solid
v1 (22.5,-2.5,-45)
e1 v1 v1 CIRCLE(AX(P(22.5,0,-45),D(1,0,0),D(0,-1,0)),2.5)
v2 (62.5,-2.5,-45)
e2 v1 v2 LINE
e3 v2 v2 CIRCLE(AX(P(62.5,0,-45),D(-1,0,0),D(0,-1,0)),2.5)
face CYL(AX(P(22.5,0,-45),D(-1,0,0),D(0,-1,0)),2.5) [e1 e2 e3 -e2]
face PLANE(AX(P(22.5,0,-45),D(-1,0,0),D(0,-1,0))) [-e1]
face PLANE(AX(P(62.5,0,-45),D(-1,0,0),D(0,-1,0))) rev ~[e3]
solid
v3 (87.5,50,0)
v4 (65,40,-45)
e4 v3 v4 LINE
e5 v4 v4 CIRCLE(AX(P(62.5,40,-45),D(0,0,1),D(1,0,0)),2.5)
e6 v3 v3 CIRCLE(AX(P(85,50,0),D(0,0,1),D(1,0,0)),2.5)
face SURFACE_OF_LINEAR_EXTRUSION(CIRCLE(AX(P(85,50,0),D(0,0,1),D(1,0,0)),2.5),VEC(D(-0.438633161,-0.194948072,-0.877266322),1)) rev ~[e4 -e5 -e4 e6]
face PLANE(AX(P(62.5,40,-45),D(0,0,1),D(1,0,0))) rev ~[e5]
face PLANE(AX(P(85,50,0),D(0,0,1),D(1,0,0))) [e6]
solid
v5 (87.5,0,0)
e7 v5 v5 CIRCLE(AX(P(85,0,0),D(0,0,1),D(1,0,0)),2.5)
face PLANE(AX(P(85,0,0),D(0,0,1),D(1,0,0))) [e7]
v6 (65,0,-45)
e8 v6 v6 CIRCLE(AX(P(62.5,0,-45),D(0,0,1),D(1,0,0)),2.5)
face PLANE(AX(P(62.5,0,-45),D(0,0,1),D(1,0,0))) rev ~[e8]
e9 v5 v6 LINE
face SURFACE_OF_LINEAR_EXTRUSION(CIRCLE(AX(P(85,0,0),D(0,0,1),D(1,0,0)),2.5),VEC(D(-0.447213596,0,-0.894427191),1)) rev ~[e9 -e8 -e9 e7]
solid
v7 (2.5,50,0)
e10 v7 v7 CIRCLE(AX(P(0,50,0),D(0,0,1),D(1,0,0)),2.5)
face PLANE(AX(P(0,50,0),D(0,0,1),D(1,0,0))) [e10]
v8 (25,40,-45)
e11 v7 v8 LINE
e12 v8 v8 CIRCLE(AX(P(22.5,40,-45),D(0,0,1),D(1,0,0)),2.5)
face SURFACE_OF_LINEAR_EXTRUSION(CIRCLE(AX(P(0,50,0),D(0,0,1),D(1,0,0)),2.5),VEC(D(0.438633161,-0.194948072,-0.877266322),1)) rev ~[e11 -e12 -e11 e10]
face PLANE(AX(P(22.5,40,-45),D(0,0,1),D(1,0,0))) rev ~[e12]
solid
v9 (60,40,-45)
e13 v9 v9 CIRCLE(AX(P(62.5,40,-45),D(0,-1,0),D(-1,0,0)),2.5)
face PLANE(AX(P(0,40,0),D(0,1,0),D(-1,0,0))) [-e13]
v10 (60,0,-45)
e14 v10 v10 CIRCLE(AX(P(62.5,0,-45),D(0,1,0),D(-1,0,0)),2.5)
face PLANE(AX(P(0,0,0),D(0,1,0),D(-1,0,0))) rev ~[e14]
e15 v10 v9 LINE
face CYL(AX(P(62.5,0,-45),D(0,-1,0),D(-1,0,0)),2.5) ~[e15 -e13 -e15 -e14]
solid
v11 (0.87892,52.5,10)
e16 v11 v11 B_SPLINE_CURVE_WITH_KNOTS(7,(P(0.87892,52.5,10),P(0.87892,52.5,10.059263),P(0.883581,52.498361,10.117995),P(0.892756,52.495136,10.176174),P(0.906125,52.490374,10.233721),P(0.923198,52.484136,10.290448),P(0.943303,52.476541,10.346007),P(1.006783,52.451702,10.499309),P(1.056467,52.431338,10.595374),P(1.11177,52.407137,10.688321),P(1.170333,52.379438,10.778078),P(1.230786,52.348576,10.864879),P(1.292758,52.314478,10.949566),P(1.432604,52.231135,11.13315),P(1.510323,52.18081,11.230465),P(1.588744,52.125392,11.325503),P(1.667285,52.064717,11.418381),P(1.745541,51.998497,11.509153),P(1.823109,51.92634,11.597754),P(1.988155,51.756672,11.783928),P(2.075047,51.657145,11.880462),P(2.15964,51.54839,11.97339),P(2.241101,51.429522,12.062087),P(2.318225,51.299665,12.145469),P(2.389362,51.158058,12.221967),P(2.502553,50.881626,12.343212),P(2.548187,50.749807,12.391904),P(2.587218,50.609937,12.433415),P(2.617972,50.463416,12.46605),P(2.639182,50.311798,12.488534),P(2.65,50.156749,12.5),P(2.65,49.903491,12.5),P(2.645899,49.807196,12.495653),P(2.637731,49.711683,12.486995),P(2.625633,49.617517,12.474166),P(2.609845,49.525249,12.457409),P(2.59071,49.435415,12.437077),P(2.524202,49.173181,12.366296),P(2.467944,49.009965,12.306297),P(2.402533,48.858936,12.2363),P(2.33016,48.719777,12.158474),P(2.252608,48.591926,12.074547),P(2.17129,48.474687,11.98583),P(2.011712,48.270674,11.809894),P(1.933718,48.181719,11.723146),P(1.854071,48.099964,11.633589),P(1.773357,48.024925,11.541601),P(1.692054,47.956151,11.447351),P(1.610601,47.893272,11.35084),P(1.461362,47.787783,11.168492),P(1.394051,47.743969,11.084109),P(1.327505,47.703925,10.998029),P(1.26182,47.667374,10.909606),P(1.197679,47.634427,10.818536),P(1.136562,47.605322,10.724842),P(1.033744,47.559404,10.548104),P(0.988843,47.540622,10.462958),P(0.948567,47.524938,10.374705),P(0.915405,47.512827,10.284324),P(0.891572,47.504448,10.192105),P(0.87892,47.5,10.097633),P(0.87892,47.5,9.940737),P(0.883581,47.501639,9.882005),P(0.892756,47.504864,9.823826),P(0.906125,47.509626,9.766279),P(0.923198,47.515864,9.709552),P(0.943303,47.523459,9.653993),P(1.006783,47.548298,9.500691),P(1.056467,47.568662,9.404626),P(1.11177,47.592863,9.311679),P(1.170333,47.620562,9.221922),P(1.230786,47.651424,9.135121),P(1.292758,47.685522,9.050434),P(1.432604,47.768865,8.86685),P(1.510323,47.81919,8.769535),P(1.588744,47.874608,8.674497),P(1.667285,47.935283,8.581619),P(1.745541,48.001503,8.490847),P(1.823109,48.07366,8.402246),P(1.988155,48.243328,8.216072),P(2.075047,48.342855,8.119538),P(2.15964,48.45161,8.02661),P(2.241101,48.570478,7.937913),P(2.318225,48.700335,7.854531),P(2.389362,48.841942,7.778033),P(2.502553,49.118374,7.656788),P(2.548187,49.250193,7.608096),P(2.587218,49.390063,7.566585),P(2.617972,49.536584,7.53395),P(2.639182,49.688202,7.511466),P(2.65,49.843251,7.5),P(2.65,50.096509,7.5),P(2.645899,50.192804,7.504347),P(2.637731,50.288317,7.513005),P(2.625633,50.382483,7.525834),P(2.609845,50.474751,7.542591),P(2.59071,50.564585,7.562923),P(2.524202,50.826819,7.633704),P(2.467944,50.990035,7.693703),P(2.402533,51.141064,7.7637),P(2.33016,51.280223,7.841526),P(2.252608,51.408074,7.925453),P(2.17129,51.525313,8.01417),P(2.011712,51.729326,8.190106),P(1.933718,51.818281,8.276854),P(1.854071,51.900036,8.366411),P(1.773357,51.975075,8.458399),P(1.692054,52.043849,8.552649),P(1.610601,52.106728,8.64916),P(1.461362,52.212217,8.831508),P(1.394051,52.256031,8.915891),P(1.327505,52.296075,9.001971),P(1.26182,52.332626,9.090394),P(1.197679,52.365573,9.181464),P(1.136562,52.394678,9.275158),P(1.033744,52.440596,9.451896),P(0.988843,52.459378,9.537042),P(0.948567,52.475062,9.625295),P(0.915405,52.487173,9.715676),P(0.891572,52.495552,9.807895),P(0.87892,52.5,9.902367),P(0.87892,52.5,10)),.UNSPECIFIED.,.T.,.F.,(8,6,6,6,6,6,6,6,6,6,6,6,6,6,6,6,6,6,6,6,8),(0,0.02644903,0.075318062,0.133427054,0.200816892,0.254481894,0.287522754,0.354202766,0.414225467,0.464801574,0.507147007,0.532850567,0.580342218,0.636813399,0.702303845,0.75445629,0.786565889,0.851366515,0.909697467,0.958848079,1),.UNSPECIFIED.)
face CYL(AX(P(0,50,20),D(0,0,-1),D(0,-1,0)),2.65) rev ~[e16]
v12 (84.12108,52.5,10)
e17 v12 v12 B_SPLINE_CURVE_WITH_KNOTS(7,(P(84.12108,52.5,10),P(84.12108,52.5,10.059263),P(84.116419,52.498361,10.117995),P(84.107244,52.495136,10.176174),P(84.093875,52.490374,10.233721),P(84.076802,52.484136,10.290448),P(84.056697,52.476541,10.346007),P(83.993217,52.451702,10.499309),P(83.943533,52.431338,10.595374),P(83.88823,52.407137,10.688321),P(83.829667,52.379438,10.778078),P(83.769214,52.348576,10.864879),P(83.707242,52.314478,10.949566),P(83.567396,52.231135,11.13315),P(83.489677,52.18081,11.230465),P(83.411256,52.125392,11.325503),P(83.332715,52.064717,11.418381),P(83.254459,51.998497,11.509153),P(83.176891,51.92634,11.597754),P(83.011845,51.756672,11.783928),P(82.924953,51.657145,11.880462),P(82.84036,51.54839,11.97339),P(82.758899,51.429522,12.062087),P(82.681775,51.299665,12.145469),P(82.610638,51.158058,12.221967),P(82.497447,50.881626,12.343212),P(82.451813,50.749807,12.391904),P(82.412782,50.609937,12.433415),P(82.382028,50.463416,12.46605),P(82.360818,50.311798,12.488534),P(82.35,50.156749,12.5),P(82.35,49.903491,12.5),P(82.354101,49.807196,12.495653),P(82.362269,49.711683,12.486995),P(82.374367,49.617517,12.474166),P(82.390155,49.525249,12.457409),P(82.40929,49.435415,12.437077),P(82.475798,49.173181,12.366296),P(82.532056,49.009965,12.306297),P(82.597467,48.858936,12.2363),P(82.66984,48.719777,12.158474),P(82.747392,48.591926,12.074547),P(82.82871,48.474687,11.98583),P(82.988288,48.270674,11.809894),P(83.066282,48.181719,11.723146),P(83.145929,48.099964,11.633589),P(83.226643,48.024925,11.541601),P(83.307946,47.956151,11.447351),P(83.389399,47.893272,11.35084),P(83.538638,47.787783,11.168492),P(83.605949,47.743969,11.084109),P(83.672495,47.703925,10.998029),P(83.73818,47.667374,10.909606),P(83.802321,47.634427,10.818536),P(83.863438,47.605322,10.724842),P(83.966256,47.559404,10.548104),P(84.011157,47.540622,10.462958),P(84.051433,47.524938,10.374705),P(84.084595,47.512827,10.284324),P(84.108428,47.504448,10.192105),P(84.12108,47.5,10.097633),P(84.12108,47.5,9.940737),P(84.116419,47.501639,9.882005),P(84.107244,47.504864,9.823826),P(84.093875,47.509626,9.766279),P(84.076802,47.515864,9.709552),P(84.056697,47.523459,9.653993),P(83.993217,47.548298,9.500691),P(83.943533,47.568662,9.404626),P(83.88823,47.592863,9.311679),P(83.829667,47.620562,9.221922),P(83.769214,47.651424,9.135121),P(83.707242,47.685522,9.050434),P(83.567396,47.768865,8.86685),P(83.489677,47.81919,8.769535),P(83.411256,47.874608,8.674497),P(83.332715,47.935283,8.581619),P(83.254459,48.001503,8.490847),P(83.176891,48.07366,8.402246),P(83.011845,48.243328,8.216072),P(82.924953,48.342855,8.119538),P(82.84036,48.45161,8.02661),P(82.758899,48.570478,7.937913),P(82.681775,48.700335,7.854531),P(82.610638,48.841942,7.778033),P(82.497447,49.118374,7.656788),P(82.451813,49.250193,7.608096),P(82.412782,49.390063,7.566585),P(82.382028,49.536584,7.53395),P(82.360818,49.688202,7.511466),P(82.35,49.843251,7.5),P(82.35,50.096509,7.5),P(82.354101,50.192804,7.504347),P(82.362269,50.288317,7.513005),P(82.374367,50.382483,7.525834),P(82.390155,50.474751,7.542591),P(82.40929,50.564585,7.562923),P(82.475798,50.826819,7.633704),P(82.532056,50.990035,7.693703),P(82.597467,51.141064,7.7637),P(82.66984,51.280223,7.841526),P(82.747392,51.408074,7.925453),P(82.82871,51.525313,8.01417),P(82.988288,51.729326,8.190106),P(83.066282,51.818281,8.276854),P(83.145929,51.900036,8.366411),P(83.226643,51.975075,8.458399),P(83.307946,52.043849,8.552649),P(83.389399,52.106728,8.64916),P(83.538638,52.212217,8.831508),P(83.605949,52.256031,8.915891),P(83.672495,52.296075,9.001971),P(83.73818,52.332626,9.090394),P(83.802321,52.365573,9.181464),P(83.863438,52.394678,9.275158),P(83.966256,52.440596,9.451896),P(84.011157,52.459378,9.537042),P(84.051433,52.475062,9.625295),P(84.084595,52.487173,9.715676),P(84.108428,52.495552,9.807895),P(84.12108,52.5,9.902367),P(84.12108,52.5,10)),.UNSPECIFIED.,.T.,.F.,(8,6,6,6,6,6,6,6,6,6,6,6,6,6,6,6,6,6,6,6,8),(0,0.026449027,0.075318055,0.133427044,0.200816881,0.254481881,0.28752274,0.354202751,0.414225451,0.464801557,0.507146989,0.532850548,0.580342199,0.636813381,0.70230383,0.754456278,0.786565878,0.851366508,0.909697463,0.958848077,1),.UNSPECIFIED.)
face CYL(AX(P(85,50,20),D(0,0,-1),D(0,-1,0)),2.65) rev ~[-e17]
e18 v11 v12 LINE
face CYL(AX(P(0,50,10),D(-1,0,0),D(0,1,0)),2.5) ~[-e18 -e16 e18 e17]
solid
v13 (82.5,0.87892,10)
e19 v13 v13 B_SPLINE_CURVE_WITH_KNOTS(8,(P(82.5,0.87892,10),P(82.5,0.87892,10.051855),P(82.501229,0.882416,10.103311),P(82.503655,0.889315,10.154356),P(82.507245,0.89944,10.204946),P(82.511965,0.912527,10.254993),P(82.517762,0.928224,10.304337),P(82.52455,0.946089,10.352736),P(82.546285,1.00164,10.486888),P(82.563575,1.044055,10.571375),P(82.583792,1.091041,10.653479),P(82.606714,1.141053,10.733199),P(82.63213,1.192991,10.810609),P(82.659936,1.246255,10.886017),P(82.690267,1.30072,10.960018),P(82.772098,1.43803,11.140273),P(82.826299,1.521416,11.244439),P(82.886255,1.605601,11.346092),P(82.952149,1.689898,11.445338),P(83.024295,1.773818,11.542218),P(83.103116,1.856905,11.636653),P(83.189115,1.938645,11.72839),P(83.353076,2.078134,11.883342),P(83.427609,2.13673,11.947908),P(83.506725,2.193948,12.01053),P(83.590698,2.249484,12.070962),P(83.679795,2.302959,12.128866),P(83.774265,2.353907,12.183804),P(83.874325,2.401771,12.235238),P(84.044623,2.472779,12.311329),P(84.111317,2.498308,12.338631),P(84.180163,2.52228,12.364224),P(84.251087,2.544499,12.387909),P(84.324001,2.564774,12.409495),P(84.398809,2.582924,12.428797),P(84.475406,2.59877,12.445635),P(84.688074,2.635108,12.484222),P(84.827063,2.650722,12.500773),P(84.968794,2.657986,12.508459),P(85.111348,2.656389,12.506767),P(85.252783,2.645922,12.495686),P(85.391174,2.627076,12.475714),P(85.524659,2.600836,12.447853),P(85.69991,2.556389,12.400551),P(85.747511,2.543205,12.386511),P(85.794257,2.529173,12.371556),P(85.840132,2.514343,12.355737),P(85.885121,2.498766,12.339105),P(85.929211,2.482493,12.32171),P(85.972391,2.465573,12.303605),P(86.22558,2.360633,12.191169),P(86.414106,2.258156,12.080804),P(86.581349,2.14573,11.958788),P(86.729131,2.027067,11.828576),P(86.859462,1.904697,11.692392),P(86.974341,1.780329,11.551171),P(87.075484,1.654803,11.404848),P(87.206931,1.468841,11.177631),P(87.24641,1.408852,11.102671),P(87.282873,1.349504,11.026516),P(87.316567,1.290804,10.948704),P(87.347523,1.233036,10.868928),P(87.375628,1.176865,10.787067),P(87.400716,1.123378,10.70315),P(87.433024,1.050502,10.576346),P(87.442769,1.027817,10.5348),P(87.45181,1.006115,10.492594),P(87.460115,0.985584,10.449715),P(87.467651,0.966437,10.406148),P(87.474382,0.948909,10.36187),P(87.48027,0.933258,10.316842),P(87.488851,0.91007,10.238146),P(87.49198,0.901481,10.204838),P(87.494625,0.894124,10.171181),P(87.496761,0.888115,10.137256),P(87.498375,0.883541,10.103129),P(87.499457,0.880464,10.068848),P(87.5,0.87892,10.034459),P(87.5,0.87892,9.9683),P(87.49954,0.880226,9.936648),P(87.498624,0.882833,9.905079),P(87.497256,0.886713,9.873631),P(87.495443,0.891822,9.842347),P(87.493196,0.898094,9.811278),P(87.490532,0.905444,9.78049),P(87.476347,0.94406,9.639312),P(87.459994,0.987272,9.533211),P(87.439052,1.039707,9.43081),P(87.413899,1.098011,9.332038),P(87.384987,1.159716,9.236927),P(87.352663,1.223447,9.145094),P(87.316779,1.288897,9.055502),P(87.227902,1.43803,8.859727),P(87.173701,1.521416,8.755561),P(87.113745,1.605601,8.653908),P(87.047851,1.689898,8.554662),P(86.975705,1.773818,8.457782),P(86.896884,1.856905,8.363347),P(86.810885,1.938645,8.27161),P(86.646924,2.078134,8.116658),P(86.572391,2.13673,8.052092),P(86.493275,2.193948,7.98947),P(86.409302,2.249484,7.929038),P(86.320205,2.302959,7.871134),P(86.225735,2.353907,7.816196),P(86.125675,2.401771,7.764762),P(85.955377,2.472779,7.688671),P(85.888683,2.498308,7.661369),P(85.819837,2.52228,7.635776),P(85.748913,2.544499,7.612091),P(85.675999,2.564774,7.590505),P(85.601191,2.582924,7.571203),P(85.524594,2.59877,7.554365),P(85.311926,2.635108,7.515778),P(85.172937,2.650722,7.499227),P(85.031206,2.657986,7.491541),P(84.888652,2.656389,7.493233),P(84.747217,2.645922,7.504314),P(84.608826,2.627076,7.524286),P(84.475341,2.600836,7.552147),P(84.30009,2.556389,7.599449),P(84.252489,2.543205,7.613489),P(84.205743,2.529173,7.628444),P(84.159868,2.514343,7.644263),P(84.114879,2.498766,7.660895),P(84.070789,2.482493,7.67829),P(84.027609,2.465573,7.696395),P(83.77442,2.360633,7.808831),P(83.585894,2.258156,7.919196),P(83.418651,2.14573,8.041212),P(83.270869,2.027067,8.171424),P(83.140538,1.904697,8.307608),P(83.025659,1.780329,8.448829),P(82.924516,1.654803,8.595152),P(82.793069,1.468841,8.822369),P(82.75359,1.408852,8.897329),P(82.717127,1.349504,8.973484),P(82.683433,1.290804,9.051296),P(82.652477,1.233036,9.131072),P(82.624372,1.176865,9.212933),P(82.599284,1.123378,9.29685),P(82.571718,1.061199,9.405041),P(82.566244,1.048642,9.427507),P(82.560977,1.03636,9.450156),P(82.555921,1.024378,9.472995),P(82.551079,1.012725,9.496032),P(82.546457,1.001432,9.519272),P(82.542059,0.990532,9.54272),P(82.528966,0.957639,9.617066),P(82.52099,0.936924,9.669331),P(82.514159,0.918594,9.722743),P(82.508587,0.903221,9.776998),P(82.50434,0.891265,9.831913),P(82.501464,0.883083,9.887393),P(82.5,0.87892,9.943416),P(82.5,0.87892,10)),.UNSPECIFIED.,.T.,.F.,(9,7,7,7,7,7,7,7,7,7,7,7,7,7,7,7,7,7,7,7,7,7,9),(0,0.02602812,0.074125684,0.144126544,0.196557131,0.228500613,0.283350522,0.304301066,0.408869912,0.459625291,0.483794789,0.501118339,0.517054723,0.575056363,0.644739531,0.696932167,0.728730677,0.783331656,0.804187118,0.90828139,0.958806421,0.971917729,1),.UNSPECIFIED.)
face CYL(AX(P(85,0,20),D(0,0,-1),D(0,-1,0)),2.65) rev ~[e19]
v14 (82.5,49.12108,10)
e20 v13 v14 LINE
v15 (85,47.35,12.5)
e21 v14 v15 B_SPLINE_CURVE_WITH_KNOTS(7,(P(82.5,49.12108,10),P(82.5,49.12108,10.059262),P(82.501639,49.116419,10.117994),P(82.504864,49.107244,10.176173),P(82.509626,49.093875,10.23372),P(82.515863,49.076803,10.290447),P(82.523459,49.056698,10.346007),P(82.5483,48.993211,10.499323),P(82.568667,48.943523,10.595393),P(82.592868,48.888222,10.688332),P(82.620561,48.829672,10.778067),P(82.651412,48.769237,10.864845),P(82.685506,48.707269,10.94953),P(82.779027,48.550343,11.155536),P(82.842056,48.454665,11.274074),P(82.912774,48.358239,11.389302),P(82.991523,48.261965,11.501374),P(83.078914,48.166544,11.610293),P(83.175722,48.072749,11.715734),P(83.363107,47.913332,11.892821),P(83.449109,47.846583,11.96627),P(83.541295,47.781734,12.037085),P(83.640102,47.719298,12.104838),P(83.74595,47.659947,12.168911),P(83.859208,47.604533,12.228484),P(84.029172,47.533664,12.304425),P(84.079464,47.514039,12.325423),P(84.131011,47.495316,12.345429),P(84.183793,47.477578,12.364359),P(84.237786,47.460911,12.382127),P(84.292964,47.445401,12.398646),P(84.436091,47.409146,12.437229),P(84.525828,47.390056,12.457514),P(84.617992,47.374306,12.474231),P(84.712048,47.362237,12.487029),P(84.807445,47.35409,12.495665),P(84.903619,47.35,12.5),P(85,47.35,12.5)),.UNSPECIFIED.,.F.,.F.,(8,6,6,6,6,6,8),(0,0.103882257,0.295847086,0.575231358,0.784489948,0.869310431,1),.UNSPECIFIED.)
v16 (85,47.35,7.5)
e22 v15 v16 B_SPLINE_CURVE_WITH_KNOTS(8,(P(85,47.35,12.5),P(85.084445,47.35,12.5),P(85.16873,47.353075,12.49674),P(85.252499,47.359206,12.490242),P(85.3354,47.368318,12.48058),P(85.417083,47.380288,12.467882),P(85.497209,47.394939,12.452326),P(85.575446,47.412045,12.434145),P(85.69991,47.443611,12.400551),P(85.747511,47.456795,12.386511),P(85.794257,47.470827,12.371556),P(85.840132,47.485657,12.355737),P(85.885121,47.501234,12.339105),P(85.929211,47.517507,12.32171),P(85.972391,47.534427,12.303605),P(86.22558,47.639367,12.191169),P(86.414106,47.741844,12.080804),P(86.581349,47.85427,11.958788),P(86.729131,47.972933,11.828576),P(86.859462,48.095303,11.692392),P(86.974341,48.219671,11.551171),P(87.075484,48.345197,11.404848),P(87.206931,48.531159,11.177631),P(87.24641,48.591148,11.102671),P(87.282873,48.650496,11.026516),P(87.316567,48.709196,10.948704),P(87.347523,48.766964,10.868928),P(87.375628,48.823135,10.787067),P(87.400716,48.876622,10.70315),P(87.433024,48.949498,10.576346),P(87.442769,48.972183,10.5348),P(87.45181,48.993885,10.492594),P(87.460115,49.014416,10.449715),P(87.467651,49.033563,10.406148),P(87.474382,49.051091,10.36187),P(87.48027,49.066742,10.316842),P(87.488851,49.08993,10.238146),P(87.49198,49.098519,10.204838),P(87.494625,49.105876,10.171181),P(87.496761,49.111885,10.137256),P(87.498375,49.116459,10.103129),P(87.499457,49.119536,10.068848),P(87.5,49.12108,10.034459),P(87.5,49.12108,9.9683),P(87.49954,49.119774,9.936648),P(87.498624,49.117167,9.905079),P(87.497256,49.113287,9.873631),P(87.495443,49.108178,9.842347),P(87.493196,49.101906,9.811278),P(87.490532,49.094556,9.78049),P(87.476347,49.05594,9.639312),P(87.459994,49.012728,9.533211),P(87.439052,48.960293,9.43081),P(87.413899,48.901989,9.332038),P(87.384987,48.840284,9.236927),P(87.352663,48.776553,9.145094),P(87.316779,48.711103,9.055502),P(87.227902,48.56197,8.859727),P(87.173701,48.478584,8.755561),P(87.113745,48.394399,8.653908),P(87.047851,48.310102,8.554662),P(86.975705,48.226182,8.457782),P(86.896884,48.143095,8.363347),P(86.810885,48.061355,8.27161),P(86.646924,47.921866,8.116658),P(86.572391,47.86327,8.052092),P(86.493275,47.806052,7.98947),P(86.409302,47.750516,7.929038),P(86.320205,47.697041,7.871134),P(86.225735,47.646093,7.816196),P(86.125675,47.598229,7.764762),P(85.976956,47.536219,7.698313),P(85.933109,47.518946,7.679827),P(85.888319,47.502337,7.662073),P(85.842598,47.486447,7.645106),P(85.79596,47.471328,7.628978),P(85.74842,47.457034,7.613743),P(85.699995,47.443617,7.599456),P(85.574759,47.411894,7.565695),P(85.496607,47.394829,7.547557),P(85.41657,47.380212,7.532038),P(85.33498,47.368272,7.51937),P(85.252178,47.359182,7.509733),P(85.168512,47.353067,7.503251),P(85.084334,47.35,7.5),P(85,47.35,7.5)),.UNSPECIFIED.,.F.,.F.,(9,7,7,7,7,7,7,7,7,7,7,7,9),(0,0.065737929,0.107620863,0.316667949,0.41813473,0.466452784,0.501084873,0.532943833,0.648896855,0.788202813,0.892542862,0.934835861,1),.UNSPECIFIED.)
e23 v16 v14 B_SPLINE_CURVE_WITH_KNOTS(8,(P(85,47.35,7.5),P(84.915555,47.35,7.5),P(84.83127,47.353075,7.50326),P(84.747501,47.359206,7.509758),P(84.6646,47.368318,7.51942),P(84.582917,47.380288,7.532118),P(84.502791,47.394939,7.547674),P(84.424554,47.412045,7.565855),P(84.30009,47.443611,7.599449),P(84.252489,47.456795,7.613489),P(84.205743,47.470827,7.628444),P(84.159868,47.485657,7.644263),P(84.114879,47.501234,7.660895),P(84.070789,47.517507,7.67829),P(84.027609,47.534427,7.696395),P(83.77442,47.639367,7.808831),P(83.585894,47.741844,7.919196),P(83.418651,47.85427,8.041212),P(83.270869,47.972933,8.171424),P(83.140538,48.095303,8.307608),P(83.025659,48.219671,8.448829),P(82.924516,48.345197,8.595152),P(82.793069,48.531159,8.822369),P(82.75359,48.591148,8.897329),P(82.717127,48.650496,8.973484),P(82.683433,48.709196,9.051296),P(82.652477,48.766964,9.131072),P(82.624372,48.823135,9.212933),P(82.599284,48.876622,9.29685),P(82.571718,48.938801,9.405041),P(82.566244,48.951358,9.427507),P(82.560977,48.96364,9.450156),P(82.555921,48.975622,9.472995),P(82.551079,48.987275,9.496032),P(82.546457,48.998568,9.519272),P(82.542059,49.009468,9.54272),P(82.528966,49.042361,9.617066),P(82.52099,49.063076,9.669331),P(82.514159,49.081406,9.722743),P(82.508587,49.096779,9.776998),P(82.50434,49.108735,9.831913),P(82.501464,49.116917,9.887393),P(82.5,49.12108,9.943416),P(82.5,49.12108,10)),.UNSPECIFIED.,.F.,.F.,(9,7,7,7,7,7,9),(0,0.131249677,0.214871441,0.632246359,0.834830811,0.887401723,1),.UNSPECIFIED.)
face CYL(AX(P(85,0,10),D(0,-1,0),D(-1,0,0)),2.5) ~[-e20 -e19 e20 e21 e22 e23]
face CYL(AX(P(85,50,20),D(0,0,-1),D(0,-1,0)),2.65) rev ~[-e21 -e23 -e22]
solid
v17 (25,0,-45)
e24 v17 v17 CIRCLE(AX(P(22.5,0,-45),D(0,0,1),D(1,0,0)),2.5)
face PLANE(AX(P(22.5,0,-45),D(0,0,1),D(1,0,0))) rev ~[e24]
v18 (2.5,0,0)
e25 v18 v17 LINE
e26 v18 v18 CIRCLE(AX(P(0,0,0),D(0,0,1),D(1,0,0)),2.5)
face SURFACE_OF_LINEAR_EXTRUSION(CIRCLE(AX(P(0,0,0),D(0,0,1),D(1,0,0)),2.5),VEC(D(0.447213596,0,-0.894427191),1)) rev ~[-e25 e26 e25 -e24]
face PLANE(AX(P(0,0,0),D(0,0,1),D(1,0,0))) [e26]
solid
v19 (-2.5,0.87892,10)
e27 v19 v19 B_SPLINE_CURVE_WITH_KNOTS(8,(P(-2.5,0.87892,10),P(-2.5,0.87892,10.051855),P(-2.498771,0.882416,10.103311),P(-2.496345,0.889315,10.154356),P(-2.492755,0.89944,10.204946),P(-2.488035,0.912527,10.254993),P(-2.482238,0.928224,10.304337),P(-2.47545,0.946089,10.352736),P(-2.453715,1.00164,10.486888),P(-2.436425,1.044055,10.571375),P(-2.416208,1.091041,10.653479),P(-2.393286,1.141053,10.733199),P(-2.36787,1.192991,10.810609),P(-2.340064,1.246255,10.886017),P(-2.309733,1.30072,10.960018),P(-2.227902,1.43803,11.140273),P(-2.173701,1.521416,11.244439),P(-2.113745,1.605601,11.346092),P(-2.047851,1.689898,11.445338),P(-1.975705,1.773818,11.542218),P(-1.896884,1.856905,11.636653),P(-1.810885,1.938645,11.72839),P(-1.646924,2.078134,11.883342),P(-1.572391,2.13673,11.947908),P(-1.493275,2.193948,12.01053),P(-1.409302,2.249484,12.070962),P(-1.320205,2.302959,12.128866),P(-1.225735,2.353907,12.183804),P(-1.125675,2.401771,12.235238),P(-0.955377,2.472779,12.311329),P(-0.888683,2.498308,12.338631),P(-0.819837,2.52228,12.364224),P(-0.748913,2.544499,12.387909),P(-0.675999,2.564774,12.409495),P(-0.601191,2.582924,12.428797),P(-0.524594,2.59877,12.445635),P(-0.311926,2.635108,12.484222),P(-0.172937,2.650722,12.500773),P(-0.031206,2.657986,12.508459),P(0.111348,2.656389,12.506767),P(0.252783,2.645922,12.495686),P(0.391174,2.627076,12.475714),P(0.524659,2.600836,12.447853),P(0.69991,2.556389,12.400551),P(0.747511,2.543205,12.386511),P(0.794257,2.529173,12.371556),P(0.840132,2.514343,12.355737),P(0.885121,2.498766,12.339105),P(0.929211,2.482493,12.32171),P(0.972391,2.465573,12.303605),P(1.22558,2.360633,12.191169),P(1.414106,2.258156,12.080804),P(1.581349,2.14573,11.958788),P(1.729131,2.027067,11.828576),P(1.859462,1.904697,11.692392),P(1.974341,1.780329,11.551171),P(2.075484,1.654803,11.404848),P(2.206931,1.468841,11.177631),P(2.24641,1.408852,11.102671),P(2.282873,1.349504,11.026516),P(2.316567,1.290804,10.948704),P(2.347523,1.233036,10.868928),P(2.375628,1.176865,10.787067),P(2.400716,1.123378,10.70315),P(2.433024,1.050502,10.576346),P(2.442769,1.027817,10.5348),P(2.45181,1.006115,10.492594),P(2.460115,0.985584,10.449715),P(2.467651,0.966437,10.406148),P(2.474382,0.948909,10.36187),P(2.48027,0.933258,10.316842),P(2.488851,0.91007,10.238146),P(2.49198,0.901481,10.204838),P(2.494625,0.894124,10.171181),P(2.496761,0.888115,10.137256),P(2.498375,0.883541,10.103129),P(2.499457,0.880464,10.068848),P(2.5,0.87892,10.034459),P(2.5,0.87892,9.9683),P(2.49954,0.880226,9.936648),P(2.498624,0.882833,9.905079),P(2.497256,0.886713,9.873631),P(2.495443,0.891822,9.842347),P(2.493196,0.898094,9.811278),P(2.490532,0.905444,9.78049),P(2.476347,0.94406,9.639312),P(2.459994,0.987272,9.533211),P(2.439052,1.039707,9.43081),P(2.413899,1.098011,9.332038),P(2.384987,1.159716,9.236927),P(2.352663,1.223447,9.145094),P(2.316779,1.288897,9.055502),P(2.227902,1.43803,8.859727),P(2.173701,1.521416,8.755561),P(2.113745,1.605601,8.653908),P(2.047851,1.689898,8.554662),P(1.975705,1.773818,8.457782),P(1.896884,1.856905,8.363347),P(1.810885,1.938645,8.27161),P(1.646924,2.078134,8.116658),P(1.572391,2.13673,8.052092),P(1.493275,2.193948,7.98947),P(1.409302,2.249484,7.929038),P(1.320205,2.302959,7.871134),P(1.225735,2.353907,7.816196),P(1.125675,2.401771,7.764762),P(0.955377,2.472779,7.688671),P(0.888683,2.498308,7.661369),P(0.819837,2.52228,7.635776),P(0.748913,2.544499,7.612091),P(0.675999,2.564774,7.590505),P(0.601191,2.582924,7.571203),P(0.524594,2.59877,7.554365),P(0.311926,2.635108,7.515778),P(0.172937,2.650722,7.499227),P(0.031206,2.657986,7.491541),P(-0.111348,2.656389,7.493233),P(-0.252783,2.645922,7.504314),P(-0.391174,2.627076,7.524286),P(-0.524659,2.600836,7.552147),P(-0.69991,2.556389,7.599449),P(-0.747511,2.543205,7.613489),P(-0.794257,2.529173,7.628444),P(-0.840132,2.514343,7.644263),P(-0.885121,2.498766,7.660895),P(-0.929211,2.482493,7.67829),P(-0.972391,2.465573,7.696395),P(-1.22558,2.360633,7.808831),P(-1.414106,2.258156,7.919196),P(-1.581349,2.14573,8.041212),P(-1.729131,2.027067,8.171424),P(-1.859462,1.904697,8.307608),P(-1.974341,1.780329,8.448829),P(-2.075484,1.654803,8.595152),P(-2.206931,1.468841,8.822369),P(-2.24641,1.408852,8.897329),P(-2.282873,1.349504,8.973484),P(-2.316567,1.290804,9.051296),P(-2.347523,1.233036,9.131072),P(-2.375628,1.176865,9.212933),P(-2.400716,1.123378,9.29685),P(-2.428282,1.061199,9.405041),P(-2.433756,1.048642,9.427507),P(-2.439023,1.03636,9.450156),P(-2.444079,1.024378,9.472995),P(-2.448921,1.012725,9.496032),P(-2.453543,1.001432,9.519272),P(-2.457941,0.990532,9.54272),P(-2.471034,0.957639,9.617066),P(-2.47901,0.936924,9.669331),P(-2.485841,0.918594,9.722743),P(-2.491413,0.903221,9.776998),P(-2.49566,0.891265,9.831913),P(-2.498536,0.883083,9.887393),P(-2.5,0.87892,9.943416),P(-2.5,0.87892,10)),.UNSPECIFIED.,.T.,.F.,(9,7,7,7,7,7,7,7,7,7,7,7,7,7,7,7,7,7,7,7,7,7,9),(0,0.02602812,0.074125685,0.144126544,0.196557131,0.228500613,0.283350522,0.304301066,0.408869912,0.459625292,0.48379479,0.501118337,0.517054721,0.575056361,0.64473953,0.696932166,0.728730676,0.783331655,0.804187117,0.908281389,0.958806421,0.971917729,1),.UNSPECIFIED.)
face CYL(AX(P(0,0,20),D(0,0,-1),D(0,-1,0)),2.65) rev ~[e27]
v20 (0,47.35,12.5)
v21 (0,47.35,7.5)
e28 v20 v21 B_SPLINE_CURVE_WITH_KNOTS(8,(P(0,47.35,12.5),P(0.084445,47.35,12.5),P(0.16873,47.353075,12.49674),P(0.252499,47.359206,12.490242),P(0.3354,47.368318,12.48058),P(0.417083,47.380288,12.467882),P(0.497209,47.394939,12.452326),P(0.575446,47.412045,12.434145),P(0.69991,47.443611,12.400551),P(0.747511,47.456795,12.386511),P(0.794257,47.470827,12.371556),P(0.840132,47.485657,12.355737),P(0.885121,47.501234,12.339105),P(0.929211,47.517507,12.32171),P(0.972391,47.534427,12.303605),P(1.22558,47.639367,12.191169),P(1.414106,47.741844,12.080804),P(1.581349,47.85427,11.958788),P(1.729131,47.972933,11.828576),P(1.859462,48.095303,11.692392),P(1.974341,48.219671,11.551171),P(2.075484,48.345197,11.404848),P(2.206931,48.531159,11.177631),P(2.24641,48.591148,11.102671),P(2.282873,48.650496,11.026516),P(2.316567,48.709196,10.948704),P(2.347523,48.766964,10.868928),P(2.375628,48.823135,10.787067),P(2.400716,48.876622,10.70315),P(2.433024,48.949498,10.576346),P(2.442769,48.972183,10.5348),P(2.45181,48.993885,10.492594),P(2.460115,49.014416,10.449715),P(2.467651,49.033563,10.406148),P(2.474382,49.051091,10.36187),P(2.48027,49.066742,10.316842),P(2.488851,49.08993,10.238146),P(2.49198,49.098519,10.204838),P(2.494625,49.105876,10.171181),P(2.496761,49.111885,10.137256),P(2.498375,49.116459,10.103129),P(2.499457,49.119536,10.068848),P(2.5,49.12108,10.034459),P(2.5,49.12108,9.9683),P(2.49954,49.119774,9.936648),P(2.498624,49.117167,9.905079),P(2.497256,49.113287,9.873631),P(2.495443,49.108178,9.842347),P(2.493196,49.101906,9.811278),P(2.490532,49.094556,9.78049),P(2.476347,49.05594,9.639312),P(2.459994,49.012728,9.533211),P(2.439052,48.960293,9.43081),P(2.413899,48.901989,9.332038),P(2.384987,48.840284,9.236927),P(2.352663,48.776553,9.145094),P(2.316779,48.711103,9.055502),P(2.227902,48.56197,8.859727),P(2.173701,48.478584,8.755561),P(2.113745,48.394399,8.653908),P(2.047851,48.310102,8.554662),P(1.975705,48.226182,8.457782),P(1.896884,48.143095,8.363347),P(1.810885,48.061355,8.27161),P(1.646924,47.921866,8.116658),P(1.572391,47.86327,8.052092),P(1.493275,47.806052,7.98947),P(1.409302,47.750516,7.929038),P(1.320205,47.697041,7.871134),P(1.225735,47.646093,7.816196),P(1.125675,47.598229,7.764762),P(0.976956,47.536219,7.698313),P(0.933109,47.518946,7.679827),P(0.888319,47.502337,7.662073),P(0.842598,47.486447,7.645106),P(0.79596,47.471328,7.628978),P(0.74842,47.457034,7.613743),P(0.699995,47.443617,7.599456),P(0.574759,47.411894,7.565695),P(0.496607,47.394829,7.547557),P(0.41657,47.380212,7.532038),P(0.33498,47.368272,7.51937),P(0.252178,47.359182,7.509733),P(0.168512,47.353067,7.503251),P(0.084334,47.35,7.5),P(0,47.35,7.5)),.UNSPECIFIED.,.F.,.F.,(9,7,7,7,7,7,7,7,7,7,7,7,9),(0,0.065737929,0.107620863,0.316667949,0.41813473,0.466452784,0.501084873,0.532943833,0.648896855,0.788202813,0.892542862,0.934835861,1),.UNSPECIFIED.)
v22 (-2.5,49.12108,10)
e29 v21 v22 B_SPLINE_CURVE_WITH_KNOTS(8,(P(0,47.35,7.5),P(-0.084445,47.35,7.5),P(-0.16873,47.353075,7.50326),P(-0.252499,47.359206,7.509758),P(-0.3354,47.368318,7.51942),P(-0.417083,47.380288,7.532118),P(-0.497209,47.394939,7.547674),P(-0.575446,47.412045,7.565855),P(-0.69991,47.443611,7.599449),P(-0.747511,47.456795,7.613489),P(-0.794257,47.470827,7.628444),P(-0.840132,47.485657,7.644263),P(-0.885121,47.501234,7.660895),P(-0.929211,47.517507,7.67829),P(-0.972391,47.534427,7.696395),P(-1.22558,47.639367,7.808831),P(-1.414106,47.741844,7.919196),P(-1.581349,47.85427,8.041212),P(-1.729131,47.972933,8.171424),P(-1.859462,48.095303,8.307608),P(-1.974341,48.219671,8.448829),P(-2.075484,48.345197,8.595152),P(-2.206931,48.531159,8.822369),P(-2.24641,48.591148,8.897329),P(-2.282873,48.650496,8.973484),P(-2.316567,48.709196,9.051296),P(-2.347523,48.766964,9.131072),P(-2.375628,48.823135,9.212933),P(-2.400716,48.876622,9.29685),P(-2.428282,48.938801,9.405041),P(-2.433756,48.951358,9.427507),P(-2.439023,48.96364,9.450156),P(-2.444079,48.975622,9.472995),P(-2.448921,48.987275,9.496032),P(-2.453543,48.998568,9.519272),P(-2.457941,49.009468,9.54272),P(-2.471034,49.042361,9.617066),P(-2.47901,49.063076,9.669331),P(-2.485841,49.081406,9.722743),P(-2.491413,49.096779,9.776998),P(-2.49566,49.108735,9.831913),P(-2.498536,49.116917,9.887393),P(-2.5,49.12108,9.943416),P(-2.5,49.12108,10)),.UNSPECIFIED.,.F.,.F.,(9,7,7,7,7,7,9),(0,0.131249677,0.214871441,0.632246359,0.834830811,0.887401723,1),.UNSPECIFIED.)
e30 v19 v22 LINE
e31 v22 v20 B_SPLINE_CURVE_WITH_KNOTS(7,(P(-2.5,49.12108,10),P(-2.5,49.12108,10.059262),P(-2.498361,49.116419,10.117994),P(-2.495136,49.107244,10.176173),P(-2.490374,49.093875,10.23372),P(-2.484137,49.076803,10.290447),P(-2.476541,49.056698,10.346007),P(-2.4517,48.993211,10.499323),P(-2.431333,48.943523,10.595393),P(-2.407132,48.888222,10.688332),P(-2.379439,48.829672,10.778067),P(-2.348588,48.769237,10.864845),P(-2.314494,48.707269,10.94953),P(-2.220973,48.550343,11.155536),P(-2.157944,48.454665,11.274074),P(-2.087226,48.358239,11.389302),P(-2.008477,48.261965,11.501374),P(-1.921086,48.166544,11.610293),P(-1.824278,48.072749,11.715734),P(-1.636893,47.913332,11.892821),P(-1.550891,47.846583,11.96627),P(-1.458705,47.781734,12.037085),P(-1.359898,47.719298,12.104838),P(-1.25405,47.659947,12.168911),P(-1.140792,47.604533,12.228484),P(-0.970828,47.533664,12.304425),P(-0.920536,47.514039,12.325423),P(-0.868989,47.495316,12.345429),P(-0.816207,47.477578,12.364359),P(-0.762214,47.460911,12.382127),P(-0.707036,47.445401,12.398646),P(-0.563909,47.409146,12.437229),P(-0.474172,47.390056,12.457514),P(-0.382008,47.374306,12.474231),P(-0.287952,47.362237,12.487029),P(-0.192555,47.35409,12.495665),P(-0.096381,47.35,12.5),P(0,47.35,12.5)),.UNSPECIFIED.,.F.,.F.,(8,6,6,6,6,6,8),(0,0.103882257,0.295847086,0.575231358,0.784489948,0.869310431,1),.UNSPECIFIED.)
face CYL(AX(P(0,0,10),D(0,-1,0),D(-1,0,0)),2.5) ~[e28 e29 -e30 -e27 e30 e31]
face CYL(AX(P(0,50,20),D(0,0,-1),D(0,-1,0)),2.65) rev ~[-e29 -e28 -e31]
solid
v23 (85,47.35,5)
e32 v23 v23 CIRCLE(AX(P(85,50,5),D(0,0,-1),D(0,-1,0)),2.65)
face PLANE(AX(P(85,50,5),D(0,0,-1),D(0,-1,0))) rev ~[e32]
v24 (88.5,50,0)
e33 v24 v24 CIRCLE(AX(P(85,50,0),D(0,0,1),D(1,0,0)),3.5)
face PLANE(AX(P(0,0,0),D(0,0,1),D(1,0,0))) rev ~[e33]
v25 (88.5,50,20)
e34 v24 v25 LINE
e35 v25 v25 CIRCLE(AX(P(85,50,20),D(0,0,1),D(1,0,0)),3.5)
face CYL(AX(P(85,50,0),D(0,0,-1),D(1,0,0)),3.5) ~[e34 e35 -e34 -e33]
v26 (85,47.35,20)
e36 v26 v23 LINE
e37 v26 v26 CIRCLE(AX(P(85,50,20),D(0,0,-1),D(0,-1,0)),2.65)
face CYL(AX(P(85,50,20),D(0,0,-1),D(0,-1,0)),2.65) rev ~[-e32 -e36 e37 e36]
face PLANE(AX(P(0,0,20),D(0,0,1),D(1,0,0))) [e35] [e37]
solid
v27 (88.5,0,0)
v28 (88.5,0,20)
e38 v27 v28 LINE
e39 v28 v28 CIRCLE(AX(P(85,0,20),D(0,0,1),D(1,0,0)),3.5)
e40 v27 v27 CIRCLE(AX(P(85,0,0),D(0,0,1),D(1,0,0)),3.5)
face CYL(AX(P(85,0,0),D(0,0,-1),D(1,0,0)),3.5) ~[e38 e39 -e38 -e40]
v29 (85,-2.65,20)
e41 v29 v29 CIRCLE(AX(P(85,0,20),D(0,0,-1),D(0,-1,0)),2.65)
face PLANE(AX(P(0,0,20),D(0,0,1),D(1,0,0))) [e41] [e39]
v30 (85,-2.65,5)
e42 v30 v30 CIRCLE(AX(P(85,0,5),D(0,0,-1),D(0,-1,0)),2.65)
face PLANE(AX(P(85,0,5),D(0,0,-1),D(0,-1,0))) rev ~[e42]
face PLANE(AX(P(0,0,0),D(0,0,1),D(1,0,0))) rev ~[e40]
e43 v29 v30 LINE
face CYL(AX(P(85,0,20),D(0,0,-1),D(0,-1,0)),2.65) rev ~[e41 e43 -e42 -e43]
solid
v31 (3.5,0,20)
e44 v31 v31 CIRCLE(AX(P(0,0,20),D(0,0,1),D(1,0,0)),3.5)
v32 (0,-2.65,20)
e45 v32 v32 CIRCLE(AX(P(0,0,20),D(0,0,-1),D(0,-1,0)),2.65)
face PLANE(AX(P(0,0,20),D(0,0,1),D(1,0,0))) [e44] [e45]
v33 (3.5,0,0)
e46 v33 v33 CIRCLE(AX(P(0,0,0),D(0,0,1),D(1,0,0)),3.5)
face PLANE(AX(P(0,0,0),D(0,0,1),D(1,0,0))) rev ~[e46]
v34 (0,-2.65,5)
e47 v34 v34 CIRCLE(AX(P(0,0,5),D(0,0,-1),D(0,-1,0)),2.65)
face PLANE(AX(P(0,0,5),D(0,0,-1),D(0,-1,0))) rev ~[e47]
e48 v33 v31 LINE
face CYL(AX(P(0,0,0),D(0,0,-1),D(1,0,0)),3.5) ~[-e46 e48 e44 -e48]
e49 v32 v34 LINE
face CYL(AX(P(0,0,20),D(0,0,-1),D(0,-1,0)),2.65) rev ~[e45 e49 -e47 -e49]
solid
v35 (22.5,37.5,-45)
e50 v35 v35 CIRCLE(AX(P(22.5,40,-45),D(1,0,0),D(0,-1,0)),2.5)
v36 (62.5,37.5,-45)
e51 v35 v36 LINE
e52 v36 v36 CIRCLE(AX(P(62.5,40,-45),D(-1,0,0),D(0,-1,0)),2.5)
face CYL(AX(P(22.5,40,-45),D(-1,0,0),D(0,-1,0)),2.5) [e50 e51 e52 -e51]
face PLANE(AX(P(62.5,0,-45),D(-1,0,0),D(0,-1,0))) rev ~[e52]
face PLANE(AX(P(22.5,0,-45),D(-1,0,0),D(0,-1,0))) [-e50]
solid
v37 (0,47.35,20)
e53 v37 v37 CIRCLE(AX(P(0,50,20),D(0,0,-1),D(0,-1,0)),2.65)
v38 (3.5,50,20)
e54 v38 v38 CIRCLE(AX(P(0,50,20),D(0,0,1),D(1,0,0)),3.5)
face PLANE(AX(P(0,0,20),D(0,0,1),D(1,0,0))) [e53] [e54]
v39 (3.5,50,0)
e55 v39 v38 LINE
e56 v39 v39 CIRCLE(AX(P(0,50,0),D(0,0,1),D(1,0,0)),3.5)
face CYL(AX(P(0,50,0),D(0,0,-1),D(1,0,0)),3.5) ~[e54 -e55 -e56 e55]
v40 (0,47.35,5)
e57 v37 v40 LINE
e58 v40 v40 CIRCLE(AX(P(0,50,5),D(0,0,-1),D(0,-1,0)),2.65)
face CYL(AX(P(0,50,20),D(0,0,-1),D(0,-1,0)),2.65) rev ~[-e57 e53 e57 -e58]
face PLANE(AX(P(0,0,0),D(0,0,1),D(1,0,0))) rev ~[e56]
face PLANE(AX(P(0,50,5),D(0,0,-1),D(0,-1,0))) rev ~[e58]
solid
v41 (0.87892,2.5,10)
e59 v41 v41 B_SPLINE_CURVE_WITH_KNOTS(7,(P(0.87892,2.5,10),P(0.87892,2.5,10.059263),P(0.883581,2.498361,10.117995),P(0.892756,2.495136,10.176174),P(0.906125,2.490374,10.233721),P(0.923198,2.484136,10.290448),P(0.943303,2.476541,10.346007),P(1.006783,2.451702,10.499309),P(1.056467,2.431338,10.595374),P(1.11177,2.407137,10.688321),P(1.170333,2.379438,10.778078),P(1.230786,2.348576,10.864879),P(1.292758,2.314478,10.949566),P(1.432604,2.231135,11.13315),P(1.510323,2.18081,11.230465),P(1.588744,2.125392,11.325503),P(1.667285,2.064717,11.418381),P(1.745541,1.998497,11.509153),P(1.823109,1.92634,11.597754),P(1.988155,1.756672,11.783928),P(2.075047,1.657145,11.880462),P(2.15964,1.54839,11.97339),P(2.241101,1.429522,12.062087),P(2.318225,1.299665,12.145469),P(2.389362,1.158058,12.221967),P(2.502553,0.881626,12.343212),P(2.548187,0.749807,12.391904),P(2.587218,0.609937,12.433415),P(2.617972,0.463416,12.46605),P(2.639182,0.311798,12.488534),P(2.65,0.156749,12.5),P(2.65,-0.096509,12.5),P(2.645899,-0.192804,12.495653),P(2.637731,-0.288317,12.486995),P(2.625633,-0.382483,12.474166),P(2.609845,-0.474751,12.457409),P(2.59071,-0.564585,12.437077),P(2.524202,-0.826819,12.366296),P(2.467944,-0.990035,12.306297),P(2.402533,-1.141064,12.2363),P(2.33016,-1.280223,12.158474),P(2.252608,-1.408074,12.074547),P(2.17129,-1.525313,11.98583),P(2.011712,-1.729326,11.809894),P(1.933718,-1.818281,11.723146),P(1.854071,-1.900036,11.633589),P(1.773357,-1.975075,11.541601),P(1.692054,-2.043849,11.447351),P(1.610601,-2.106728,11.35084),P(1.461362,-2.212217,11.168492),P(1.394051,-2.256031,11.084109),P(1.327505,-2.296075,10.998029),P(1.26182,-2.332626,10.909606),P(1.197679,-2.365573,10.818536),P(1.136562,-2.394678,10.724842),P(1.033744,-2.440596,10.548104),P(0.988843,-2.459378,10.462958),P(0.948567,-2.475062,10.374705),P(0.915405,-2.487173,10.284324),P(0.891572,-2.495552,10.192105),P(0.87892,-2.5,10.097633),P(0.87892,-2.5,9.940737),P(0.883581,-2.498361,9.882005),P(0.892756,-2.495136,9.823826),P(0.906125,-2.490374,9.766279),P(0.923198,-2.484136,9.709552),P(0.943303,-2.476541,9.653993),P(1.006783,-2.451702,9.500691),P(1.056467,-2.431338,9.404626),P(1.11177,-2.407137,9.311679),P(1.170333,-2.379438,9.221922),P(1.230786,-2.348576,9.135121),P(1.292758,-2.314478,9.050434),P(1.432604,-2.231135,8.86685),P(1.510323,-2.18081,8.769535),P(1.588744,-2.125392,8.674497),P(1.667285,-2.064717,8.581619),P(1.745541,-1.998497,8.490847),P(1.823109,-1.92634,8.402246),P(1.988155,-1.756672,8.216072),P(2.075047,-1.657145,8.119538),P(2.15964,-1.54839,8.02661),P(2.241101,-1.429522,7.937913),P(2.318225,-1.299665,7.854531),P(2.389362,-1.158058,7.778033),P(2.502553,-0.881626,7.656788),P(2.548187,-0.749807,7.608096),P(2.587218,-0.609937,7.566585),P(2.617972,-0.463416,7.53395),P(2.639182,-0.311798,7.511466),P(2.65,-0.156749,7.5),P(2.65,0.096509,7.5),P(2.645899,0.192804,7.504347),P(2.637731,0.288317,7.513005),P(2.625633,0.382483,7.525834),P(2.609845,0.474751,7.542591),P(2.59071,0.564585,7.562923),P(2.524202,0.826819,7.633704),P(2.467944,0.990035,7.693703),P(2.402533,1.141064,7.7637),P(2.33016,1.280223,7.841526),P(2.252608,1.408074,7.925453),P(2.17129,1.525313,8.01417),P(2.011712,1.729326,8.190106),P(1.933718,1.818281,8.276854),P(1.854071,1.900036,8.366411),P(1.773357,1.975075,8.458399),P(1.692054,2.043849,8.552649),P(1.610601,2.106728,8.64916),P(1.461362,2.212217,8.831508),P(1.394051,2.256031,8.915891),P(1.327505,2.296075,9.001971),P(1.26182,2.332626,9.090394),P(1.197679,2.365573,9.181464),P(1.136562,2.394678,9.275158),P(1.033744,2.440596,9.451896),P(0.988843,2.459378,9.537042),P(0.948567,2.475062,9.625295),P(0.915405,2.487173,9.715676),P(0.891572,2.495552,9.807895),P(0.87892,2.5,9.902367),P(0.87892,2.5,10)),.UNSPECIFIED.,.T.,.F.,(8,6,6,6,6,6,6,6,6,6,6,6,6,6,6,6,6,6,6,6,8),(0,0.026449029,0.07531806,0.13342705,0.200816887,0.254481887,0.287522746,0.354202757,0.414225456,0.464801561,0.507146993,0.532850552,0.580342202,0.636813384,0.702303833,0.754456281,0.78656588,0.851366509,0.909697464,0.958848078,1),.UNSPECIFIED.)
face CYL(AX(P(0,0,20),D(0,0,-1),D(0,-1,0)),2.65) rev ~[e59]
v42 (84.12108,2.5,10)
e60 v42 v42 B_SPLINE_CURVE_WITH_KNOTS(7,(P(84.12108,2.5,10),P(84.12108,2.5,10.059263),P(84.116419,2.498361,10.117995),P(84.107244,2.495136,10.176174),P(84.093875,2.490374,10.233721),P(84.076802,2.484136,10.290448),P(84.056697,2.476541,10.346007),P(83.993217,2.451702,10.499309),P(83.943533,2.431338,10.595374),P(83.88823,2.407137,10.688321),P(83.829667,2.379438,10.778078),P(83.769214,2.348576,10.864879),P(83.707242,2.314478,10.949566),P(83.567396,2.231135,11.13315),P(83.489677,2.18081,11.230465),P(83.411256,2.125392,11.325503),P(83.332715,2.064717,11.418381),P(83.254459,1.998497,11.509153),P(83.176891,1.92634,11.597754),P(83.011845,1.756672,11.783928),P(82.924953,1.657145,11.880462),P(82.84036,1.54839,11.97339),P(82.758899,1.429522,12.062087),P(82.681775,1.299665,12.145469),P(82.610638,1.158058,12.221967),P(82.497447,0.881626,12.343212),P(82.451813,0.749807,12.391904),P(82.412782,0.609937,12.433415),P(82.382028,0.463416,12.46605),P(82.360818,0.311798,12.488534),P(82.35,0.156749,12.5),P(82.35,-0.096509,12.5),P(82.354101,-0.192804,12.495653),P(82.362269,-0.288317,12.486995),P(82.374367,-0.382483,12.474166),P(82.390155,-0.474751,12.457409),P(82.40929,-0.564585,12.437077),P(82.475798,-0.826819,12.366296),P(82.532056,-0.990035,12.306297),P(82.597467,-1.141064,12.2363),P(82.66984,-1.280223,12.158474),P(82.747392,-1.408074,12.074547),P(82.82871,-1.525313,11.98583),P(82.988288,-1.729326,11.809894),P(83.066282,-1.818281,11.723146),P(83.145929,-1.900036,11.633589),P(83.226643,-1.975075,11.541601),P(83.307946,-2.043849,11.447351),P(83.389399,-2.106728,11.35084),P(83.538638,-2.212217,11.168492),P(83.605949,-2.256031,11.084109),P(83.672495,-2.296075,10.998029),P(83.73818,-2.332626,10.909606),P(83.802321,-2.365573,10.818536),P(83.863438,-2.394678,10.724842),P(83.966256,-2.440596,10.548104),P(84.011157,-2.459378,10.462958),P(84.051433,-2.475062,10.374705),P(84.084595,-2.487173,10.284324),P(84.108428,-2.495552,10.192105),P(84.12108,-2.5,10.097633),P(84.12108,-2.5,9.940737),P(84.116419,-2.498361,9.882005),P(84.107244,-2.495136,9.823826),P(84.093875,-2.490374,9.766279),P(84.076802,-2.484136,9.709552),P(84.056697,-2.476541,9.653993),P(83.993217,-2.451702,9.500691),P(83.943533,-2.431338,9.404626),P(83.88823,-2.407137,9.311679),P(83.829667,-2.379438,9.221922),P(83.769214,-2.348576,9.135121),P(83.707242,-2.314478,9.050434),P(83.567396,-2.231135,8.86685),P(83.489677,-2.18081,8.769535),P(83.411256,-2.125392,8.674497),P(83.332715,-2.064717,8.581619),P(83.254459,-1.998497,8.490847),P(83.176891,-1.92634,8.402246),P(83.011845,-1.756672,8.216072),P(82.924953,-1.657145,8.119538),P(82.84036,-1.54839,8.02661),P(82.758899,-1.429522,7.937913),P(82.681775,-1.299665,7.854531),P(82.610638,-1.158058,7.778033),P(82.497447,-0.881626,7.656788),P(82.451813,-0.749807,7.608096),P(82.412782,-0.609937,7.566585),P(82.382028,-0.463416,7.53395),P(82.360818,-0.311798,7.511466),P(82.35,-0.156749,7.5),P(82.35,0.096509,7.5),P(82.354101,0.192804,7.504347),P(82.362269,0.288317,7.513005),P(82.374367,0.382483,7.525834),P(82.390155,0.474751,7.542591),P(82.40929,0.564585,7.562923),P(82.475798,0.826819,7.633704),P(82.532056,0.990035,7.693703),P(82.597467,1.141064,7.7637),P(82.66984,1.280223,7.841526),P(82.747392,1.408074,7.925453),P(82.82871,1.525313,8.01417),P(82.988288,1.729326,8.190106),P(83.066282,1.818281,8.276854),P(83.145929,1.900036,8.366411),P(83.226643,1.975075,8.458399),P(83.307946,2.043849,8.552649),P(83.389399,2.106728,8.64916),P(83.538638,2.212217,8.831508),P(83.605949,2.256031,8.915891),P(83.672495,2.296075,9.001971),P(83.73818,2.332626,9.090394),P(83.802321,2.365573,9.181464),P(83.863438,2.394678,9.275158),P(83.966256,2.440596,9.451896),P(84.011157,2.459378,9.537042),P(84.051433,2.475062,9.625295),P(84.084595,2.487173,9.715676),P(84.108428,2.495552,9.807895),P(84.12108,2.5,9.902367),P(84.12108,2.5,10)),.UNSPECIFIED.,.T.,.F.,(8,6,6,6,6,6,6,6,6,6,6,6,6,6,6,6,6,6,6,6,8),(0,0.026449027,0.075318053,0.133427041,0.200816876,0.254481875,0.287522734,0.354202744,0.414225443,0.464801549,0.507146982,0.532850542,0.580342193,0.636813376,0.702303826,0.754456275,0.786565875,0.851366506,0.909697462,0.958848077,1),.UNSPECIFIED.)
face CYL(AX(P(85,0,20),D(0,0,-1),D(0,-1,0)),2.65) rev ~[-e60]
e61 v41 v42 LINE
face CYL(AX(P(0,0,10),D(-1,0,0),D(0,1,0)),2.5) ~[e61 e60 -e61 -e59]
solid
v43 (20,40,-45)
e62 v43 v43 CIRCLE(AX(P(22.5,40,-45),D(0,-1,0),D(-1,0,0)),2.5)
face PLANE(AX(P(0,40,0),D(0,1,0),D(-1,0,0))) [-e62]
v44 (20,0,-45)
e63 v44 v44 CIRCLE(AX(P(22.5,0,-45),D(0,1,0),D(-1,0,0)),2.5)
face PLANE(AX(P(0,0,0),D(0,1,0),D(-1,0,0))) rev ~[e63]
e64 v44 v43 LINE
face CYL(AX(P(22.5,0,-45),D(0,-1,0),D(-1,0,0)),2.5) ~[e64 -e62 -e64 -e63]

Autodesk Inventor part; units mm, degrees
ref_plane "YZ Plane" through (0, 0, 0) normal (1, 0, 0) x (0, 1, 0)
sketch "Sketch1" plane through (0, 0, 0) normal (0, 0, 1) x (1, 0, 0)
  circle A0 centre (0, 0) radius 2.5
  circle A1 centre (0, 50) radius 2.5
  circle A2 centre (85, 50) radius 2.5
  circle A3 centre (85, 0) radius 2.5
  dimension "d10" = 5
  dimension "d11" = 5
  dimension "d12" = 5
  dimension "d13" = 5
sketch3d "3D Sketch1"
  line L0 (85, 50, 0) -> (62.5, 40, -45)
  dimension "d0" = 45
  dimension "d1" = 22.5
  dimension "d2" = 40
  dimension "d3" = 40
  dimension "d4" = 40
  dimension "d5" = 85
  dimension "d6" = 50
  dimension "d7" = 85
sweep "Sweep1" add profiles "Sketch1" path "3D Sketch1" contours A2
sketch3d "3D Sketch1 for Sweep2"
  line L0 (0, 50, 0) -> (22.5, 40, -45)
  dimension "d0" = 45
  dimension "d1" = 22.5
  dimension "d2" = 40
  dimension "d3" = 40
  dimension "d4" = 40
  dimension "d5" = 85
  dimension "d6" = 50
  dimension "d7" = 85
sweep "Sweep2" add profiles "Sketch1" path "3D Sketch1 for Sweep2" separate body contours A1
sketch3d "3D Sketch1 for Sweep3"
  line L0 (0, 0, 0) -> (22.5, 0, -45)
  dimension "d0" = 45
  dimension "d1" = 22.5
  dimension "d2" = 40
  dimension "d3" = 40
  dimension "d4" = 40
  dimension "d5" = 85
  dimension "d6" = 50
  dimension "d7" = 85
sweep "Sweep3" add profiles "Sketch1" path "3D Sketch1 for Sweep3" separate body contours A0
sketch3d "3D Sketch1 for Sweep4"
  line L0 (85, 0, 0) -> (62.5, 0, -45)
  dimension "d0" = 45
  dimension "d1" = 22.5
  dimension "d2" = 40
  dimension "d3" = 40
  dimension "d4" = 40
  dimension "d5" = 85
  dimension "d6" = 50
  dimension "d7" = 85
sweep "Sweep4" add profiles "Sketch1" path "3D Sketch1 for Sweep4" separate body contours A3
ref_plane "Work Plane1" through (0, 0, 0) normal (0, 1, 0) x (-1, 0, 0)
sketch "Sketch2" plane through (0, 0, 0) normal (0, 1, 0) x (-1, 0, 0)
  line L0 (-65, -45) -> (-60, -45) projected
  circle A0 centre (-62.5, -45) radius 2.5
  line L1 (-25, -45) -> (-20, -45) projected
  circle A1 centre (-22.5, -45) radius 2.5
  point P0 (0, 0)
  dimension "d24" = 5
  dimension "d25" = 5
extrude "Extrusion2" add sketch "Sketch2" along normal blind 40 separate body
ref_plane "Work Plane3" through (22.5, 0, -45) normal (-1, 0, 0) x (0, -1, 0)
sketch "Sketch4" plane through (22.5, 0, -45) normal (-1, 0, 0) x (0, -1, 0)
  line L0 (0, 2.5) -> (0, -2.5) projected
  circle A0 centre (0, 0) radius 2.5
  line L1 (-42.5, 0) -> (-37.5, 0) projected
  circle A1 centre (-40, 0) radius 2.5
  point P0 (0, 45)
  dimension "d36" = 5
  dimension "d37" = 5
extrude "Extrusion4" add sketch "Sketch4" against normal blind 40 separate body
sketch "Sketch10" plane through (0, 0, 0) normal (0, 0, 1) x (1, 0, 0)
  circle A0 centre (0, 0) radius 3.5
  circle A1 centre (0, 50) radius 2.5 construction
  circle A2 centre (0, 50) radius 3.5
  circle A3 centre (85, 50) radius 2.5 construction
  circle A4 centre (85, 50) radius 3.5
  circle A5 centre (85, 0) radius 2.5 construction
  circle A6 centre (85, 0) radius 3.5
  dimension "d69" = 7
  dimension "d70" = 7
  dimension "d71" = 7
  dimension "d72" = 7
extrude "Extrusion8" add sketch "Sketch10" along normal blind 20 separate body
sketch "Sketch11" plane through (0, 0, 0) normal (0, 1, 0) x (-1, 0, 0)
  line L0 (0, 0) -> (0, 10) construction
  line L1 (0, 0) -> (-85, 0) construction
  line L2 (-85, 0) -> (-85, 10) construction
  line L3 (-85, 10) -> (0, 10) construction
  line L4 (0, 10) -> (0, 0) construction
  circle A0 centre (0, 10) radius 2.5
  circle A1 centre (-85, 10) radius 2.5
  dimension "d77" = 85
  dimension "d78" = 5
  dimension "d79" = 5
extrude "Extrusion9" add sketch "Sketch11" along normal blind 50 separate body
sketch "Sketch12" plane through (0, 0, 0) normal (1, 0, 0) x (0, 1, 0)
  circle A0 centre (0, 10) radius 2.5
  line L0 (50, 7.5) -> (50, 12.5) construction
  circle A1 centre (50, 10) radius 2.5
  point P0 (0, 0)
  dimension "d82" = 5
  dimension "d83" = 5
extrude "Extrusion10" add sketch "Sketch12" along normal blind 85 separate body
sketch "Sketch13" plane through (0, 0, 20) normal (0, 0, 1) x (1, 0, 0)
  circle A0 centre (0, 0) radius 2.5 construction
  circle A1 centre (0, 50) radius 2.5 construction
  line L0 (87.5, 50) -> (82.5, 50) construction
  circle A2 centre (85, 0) radius 2.5 construction
  point P0 (85, 50)
hole "Hole2" at (0, 0, 20) at (0, 50, 20) at (85, 50, 20) at (85, 0, 20) direction (0, 0, -1) diameter 5.3 depth 15 bodies 7 9 8
equation "\"fitTol\" = 0.3"
properties part number "RCPlaneSkeletonFrontFront1"
